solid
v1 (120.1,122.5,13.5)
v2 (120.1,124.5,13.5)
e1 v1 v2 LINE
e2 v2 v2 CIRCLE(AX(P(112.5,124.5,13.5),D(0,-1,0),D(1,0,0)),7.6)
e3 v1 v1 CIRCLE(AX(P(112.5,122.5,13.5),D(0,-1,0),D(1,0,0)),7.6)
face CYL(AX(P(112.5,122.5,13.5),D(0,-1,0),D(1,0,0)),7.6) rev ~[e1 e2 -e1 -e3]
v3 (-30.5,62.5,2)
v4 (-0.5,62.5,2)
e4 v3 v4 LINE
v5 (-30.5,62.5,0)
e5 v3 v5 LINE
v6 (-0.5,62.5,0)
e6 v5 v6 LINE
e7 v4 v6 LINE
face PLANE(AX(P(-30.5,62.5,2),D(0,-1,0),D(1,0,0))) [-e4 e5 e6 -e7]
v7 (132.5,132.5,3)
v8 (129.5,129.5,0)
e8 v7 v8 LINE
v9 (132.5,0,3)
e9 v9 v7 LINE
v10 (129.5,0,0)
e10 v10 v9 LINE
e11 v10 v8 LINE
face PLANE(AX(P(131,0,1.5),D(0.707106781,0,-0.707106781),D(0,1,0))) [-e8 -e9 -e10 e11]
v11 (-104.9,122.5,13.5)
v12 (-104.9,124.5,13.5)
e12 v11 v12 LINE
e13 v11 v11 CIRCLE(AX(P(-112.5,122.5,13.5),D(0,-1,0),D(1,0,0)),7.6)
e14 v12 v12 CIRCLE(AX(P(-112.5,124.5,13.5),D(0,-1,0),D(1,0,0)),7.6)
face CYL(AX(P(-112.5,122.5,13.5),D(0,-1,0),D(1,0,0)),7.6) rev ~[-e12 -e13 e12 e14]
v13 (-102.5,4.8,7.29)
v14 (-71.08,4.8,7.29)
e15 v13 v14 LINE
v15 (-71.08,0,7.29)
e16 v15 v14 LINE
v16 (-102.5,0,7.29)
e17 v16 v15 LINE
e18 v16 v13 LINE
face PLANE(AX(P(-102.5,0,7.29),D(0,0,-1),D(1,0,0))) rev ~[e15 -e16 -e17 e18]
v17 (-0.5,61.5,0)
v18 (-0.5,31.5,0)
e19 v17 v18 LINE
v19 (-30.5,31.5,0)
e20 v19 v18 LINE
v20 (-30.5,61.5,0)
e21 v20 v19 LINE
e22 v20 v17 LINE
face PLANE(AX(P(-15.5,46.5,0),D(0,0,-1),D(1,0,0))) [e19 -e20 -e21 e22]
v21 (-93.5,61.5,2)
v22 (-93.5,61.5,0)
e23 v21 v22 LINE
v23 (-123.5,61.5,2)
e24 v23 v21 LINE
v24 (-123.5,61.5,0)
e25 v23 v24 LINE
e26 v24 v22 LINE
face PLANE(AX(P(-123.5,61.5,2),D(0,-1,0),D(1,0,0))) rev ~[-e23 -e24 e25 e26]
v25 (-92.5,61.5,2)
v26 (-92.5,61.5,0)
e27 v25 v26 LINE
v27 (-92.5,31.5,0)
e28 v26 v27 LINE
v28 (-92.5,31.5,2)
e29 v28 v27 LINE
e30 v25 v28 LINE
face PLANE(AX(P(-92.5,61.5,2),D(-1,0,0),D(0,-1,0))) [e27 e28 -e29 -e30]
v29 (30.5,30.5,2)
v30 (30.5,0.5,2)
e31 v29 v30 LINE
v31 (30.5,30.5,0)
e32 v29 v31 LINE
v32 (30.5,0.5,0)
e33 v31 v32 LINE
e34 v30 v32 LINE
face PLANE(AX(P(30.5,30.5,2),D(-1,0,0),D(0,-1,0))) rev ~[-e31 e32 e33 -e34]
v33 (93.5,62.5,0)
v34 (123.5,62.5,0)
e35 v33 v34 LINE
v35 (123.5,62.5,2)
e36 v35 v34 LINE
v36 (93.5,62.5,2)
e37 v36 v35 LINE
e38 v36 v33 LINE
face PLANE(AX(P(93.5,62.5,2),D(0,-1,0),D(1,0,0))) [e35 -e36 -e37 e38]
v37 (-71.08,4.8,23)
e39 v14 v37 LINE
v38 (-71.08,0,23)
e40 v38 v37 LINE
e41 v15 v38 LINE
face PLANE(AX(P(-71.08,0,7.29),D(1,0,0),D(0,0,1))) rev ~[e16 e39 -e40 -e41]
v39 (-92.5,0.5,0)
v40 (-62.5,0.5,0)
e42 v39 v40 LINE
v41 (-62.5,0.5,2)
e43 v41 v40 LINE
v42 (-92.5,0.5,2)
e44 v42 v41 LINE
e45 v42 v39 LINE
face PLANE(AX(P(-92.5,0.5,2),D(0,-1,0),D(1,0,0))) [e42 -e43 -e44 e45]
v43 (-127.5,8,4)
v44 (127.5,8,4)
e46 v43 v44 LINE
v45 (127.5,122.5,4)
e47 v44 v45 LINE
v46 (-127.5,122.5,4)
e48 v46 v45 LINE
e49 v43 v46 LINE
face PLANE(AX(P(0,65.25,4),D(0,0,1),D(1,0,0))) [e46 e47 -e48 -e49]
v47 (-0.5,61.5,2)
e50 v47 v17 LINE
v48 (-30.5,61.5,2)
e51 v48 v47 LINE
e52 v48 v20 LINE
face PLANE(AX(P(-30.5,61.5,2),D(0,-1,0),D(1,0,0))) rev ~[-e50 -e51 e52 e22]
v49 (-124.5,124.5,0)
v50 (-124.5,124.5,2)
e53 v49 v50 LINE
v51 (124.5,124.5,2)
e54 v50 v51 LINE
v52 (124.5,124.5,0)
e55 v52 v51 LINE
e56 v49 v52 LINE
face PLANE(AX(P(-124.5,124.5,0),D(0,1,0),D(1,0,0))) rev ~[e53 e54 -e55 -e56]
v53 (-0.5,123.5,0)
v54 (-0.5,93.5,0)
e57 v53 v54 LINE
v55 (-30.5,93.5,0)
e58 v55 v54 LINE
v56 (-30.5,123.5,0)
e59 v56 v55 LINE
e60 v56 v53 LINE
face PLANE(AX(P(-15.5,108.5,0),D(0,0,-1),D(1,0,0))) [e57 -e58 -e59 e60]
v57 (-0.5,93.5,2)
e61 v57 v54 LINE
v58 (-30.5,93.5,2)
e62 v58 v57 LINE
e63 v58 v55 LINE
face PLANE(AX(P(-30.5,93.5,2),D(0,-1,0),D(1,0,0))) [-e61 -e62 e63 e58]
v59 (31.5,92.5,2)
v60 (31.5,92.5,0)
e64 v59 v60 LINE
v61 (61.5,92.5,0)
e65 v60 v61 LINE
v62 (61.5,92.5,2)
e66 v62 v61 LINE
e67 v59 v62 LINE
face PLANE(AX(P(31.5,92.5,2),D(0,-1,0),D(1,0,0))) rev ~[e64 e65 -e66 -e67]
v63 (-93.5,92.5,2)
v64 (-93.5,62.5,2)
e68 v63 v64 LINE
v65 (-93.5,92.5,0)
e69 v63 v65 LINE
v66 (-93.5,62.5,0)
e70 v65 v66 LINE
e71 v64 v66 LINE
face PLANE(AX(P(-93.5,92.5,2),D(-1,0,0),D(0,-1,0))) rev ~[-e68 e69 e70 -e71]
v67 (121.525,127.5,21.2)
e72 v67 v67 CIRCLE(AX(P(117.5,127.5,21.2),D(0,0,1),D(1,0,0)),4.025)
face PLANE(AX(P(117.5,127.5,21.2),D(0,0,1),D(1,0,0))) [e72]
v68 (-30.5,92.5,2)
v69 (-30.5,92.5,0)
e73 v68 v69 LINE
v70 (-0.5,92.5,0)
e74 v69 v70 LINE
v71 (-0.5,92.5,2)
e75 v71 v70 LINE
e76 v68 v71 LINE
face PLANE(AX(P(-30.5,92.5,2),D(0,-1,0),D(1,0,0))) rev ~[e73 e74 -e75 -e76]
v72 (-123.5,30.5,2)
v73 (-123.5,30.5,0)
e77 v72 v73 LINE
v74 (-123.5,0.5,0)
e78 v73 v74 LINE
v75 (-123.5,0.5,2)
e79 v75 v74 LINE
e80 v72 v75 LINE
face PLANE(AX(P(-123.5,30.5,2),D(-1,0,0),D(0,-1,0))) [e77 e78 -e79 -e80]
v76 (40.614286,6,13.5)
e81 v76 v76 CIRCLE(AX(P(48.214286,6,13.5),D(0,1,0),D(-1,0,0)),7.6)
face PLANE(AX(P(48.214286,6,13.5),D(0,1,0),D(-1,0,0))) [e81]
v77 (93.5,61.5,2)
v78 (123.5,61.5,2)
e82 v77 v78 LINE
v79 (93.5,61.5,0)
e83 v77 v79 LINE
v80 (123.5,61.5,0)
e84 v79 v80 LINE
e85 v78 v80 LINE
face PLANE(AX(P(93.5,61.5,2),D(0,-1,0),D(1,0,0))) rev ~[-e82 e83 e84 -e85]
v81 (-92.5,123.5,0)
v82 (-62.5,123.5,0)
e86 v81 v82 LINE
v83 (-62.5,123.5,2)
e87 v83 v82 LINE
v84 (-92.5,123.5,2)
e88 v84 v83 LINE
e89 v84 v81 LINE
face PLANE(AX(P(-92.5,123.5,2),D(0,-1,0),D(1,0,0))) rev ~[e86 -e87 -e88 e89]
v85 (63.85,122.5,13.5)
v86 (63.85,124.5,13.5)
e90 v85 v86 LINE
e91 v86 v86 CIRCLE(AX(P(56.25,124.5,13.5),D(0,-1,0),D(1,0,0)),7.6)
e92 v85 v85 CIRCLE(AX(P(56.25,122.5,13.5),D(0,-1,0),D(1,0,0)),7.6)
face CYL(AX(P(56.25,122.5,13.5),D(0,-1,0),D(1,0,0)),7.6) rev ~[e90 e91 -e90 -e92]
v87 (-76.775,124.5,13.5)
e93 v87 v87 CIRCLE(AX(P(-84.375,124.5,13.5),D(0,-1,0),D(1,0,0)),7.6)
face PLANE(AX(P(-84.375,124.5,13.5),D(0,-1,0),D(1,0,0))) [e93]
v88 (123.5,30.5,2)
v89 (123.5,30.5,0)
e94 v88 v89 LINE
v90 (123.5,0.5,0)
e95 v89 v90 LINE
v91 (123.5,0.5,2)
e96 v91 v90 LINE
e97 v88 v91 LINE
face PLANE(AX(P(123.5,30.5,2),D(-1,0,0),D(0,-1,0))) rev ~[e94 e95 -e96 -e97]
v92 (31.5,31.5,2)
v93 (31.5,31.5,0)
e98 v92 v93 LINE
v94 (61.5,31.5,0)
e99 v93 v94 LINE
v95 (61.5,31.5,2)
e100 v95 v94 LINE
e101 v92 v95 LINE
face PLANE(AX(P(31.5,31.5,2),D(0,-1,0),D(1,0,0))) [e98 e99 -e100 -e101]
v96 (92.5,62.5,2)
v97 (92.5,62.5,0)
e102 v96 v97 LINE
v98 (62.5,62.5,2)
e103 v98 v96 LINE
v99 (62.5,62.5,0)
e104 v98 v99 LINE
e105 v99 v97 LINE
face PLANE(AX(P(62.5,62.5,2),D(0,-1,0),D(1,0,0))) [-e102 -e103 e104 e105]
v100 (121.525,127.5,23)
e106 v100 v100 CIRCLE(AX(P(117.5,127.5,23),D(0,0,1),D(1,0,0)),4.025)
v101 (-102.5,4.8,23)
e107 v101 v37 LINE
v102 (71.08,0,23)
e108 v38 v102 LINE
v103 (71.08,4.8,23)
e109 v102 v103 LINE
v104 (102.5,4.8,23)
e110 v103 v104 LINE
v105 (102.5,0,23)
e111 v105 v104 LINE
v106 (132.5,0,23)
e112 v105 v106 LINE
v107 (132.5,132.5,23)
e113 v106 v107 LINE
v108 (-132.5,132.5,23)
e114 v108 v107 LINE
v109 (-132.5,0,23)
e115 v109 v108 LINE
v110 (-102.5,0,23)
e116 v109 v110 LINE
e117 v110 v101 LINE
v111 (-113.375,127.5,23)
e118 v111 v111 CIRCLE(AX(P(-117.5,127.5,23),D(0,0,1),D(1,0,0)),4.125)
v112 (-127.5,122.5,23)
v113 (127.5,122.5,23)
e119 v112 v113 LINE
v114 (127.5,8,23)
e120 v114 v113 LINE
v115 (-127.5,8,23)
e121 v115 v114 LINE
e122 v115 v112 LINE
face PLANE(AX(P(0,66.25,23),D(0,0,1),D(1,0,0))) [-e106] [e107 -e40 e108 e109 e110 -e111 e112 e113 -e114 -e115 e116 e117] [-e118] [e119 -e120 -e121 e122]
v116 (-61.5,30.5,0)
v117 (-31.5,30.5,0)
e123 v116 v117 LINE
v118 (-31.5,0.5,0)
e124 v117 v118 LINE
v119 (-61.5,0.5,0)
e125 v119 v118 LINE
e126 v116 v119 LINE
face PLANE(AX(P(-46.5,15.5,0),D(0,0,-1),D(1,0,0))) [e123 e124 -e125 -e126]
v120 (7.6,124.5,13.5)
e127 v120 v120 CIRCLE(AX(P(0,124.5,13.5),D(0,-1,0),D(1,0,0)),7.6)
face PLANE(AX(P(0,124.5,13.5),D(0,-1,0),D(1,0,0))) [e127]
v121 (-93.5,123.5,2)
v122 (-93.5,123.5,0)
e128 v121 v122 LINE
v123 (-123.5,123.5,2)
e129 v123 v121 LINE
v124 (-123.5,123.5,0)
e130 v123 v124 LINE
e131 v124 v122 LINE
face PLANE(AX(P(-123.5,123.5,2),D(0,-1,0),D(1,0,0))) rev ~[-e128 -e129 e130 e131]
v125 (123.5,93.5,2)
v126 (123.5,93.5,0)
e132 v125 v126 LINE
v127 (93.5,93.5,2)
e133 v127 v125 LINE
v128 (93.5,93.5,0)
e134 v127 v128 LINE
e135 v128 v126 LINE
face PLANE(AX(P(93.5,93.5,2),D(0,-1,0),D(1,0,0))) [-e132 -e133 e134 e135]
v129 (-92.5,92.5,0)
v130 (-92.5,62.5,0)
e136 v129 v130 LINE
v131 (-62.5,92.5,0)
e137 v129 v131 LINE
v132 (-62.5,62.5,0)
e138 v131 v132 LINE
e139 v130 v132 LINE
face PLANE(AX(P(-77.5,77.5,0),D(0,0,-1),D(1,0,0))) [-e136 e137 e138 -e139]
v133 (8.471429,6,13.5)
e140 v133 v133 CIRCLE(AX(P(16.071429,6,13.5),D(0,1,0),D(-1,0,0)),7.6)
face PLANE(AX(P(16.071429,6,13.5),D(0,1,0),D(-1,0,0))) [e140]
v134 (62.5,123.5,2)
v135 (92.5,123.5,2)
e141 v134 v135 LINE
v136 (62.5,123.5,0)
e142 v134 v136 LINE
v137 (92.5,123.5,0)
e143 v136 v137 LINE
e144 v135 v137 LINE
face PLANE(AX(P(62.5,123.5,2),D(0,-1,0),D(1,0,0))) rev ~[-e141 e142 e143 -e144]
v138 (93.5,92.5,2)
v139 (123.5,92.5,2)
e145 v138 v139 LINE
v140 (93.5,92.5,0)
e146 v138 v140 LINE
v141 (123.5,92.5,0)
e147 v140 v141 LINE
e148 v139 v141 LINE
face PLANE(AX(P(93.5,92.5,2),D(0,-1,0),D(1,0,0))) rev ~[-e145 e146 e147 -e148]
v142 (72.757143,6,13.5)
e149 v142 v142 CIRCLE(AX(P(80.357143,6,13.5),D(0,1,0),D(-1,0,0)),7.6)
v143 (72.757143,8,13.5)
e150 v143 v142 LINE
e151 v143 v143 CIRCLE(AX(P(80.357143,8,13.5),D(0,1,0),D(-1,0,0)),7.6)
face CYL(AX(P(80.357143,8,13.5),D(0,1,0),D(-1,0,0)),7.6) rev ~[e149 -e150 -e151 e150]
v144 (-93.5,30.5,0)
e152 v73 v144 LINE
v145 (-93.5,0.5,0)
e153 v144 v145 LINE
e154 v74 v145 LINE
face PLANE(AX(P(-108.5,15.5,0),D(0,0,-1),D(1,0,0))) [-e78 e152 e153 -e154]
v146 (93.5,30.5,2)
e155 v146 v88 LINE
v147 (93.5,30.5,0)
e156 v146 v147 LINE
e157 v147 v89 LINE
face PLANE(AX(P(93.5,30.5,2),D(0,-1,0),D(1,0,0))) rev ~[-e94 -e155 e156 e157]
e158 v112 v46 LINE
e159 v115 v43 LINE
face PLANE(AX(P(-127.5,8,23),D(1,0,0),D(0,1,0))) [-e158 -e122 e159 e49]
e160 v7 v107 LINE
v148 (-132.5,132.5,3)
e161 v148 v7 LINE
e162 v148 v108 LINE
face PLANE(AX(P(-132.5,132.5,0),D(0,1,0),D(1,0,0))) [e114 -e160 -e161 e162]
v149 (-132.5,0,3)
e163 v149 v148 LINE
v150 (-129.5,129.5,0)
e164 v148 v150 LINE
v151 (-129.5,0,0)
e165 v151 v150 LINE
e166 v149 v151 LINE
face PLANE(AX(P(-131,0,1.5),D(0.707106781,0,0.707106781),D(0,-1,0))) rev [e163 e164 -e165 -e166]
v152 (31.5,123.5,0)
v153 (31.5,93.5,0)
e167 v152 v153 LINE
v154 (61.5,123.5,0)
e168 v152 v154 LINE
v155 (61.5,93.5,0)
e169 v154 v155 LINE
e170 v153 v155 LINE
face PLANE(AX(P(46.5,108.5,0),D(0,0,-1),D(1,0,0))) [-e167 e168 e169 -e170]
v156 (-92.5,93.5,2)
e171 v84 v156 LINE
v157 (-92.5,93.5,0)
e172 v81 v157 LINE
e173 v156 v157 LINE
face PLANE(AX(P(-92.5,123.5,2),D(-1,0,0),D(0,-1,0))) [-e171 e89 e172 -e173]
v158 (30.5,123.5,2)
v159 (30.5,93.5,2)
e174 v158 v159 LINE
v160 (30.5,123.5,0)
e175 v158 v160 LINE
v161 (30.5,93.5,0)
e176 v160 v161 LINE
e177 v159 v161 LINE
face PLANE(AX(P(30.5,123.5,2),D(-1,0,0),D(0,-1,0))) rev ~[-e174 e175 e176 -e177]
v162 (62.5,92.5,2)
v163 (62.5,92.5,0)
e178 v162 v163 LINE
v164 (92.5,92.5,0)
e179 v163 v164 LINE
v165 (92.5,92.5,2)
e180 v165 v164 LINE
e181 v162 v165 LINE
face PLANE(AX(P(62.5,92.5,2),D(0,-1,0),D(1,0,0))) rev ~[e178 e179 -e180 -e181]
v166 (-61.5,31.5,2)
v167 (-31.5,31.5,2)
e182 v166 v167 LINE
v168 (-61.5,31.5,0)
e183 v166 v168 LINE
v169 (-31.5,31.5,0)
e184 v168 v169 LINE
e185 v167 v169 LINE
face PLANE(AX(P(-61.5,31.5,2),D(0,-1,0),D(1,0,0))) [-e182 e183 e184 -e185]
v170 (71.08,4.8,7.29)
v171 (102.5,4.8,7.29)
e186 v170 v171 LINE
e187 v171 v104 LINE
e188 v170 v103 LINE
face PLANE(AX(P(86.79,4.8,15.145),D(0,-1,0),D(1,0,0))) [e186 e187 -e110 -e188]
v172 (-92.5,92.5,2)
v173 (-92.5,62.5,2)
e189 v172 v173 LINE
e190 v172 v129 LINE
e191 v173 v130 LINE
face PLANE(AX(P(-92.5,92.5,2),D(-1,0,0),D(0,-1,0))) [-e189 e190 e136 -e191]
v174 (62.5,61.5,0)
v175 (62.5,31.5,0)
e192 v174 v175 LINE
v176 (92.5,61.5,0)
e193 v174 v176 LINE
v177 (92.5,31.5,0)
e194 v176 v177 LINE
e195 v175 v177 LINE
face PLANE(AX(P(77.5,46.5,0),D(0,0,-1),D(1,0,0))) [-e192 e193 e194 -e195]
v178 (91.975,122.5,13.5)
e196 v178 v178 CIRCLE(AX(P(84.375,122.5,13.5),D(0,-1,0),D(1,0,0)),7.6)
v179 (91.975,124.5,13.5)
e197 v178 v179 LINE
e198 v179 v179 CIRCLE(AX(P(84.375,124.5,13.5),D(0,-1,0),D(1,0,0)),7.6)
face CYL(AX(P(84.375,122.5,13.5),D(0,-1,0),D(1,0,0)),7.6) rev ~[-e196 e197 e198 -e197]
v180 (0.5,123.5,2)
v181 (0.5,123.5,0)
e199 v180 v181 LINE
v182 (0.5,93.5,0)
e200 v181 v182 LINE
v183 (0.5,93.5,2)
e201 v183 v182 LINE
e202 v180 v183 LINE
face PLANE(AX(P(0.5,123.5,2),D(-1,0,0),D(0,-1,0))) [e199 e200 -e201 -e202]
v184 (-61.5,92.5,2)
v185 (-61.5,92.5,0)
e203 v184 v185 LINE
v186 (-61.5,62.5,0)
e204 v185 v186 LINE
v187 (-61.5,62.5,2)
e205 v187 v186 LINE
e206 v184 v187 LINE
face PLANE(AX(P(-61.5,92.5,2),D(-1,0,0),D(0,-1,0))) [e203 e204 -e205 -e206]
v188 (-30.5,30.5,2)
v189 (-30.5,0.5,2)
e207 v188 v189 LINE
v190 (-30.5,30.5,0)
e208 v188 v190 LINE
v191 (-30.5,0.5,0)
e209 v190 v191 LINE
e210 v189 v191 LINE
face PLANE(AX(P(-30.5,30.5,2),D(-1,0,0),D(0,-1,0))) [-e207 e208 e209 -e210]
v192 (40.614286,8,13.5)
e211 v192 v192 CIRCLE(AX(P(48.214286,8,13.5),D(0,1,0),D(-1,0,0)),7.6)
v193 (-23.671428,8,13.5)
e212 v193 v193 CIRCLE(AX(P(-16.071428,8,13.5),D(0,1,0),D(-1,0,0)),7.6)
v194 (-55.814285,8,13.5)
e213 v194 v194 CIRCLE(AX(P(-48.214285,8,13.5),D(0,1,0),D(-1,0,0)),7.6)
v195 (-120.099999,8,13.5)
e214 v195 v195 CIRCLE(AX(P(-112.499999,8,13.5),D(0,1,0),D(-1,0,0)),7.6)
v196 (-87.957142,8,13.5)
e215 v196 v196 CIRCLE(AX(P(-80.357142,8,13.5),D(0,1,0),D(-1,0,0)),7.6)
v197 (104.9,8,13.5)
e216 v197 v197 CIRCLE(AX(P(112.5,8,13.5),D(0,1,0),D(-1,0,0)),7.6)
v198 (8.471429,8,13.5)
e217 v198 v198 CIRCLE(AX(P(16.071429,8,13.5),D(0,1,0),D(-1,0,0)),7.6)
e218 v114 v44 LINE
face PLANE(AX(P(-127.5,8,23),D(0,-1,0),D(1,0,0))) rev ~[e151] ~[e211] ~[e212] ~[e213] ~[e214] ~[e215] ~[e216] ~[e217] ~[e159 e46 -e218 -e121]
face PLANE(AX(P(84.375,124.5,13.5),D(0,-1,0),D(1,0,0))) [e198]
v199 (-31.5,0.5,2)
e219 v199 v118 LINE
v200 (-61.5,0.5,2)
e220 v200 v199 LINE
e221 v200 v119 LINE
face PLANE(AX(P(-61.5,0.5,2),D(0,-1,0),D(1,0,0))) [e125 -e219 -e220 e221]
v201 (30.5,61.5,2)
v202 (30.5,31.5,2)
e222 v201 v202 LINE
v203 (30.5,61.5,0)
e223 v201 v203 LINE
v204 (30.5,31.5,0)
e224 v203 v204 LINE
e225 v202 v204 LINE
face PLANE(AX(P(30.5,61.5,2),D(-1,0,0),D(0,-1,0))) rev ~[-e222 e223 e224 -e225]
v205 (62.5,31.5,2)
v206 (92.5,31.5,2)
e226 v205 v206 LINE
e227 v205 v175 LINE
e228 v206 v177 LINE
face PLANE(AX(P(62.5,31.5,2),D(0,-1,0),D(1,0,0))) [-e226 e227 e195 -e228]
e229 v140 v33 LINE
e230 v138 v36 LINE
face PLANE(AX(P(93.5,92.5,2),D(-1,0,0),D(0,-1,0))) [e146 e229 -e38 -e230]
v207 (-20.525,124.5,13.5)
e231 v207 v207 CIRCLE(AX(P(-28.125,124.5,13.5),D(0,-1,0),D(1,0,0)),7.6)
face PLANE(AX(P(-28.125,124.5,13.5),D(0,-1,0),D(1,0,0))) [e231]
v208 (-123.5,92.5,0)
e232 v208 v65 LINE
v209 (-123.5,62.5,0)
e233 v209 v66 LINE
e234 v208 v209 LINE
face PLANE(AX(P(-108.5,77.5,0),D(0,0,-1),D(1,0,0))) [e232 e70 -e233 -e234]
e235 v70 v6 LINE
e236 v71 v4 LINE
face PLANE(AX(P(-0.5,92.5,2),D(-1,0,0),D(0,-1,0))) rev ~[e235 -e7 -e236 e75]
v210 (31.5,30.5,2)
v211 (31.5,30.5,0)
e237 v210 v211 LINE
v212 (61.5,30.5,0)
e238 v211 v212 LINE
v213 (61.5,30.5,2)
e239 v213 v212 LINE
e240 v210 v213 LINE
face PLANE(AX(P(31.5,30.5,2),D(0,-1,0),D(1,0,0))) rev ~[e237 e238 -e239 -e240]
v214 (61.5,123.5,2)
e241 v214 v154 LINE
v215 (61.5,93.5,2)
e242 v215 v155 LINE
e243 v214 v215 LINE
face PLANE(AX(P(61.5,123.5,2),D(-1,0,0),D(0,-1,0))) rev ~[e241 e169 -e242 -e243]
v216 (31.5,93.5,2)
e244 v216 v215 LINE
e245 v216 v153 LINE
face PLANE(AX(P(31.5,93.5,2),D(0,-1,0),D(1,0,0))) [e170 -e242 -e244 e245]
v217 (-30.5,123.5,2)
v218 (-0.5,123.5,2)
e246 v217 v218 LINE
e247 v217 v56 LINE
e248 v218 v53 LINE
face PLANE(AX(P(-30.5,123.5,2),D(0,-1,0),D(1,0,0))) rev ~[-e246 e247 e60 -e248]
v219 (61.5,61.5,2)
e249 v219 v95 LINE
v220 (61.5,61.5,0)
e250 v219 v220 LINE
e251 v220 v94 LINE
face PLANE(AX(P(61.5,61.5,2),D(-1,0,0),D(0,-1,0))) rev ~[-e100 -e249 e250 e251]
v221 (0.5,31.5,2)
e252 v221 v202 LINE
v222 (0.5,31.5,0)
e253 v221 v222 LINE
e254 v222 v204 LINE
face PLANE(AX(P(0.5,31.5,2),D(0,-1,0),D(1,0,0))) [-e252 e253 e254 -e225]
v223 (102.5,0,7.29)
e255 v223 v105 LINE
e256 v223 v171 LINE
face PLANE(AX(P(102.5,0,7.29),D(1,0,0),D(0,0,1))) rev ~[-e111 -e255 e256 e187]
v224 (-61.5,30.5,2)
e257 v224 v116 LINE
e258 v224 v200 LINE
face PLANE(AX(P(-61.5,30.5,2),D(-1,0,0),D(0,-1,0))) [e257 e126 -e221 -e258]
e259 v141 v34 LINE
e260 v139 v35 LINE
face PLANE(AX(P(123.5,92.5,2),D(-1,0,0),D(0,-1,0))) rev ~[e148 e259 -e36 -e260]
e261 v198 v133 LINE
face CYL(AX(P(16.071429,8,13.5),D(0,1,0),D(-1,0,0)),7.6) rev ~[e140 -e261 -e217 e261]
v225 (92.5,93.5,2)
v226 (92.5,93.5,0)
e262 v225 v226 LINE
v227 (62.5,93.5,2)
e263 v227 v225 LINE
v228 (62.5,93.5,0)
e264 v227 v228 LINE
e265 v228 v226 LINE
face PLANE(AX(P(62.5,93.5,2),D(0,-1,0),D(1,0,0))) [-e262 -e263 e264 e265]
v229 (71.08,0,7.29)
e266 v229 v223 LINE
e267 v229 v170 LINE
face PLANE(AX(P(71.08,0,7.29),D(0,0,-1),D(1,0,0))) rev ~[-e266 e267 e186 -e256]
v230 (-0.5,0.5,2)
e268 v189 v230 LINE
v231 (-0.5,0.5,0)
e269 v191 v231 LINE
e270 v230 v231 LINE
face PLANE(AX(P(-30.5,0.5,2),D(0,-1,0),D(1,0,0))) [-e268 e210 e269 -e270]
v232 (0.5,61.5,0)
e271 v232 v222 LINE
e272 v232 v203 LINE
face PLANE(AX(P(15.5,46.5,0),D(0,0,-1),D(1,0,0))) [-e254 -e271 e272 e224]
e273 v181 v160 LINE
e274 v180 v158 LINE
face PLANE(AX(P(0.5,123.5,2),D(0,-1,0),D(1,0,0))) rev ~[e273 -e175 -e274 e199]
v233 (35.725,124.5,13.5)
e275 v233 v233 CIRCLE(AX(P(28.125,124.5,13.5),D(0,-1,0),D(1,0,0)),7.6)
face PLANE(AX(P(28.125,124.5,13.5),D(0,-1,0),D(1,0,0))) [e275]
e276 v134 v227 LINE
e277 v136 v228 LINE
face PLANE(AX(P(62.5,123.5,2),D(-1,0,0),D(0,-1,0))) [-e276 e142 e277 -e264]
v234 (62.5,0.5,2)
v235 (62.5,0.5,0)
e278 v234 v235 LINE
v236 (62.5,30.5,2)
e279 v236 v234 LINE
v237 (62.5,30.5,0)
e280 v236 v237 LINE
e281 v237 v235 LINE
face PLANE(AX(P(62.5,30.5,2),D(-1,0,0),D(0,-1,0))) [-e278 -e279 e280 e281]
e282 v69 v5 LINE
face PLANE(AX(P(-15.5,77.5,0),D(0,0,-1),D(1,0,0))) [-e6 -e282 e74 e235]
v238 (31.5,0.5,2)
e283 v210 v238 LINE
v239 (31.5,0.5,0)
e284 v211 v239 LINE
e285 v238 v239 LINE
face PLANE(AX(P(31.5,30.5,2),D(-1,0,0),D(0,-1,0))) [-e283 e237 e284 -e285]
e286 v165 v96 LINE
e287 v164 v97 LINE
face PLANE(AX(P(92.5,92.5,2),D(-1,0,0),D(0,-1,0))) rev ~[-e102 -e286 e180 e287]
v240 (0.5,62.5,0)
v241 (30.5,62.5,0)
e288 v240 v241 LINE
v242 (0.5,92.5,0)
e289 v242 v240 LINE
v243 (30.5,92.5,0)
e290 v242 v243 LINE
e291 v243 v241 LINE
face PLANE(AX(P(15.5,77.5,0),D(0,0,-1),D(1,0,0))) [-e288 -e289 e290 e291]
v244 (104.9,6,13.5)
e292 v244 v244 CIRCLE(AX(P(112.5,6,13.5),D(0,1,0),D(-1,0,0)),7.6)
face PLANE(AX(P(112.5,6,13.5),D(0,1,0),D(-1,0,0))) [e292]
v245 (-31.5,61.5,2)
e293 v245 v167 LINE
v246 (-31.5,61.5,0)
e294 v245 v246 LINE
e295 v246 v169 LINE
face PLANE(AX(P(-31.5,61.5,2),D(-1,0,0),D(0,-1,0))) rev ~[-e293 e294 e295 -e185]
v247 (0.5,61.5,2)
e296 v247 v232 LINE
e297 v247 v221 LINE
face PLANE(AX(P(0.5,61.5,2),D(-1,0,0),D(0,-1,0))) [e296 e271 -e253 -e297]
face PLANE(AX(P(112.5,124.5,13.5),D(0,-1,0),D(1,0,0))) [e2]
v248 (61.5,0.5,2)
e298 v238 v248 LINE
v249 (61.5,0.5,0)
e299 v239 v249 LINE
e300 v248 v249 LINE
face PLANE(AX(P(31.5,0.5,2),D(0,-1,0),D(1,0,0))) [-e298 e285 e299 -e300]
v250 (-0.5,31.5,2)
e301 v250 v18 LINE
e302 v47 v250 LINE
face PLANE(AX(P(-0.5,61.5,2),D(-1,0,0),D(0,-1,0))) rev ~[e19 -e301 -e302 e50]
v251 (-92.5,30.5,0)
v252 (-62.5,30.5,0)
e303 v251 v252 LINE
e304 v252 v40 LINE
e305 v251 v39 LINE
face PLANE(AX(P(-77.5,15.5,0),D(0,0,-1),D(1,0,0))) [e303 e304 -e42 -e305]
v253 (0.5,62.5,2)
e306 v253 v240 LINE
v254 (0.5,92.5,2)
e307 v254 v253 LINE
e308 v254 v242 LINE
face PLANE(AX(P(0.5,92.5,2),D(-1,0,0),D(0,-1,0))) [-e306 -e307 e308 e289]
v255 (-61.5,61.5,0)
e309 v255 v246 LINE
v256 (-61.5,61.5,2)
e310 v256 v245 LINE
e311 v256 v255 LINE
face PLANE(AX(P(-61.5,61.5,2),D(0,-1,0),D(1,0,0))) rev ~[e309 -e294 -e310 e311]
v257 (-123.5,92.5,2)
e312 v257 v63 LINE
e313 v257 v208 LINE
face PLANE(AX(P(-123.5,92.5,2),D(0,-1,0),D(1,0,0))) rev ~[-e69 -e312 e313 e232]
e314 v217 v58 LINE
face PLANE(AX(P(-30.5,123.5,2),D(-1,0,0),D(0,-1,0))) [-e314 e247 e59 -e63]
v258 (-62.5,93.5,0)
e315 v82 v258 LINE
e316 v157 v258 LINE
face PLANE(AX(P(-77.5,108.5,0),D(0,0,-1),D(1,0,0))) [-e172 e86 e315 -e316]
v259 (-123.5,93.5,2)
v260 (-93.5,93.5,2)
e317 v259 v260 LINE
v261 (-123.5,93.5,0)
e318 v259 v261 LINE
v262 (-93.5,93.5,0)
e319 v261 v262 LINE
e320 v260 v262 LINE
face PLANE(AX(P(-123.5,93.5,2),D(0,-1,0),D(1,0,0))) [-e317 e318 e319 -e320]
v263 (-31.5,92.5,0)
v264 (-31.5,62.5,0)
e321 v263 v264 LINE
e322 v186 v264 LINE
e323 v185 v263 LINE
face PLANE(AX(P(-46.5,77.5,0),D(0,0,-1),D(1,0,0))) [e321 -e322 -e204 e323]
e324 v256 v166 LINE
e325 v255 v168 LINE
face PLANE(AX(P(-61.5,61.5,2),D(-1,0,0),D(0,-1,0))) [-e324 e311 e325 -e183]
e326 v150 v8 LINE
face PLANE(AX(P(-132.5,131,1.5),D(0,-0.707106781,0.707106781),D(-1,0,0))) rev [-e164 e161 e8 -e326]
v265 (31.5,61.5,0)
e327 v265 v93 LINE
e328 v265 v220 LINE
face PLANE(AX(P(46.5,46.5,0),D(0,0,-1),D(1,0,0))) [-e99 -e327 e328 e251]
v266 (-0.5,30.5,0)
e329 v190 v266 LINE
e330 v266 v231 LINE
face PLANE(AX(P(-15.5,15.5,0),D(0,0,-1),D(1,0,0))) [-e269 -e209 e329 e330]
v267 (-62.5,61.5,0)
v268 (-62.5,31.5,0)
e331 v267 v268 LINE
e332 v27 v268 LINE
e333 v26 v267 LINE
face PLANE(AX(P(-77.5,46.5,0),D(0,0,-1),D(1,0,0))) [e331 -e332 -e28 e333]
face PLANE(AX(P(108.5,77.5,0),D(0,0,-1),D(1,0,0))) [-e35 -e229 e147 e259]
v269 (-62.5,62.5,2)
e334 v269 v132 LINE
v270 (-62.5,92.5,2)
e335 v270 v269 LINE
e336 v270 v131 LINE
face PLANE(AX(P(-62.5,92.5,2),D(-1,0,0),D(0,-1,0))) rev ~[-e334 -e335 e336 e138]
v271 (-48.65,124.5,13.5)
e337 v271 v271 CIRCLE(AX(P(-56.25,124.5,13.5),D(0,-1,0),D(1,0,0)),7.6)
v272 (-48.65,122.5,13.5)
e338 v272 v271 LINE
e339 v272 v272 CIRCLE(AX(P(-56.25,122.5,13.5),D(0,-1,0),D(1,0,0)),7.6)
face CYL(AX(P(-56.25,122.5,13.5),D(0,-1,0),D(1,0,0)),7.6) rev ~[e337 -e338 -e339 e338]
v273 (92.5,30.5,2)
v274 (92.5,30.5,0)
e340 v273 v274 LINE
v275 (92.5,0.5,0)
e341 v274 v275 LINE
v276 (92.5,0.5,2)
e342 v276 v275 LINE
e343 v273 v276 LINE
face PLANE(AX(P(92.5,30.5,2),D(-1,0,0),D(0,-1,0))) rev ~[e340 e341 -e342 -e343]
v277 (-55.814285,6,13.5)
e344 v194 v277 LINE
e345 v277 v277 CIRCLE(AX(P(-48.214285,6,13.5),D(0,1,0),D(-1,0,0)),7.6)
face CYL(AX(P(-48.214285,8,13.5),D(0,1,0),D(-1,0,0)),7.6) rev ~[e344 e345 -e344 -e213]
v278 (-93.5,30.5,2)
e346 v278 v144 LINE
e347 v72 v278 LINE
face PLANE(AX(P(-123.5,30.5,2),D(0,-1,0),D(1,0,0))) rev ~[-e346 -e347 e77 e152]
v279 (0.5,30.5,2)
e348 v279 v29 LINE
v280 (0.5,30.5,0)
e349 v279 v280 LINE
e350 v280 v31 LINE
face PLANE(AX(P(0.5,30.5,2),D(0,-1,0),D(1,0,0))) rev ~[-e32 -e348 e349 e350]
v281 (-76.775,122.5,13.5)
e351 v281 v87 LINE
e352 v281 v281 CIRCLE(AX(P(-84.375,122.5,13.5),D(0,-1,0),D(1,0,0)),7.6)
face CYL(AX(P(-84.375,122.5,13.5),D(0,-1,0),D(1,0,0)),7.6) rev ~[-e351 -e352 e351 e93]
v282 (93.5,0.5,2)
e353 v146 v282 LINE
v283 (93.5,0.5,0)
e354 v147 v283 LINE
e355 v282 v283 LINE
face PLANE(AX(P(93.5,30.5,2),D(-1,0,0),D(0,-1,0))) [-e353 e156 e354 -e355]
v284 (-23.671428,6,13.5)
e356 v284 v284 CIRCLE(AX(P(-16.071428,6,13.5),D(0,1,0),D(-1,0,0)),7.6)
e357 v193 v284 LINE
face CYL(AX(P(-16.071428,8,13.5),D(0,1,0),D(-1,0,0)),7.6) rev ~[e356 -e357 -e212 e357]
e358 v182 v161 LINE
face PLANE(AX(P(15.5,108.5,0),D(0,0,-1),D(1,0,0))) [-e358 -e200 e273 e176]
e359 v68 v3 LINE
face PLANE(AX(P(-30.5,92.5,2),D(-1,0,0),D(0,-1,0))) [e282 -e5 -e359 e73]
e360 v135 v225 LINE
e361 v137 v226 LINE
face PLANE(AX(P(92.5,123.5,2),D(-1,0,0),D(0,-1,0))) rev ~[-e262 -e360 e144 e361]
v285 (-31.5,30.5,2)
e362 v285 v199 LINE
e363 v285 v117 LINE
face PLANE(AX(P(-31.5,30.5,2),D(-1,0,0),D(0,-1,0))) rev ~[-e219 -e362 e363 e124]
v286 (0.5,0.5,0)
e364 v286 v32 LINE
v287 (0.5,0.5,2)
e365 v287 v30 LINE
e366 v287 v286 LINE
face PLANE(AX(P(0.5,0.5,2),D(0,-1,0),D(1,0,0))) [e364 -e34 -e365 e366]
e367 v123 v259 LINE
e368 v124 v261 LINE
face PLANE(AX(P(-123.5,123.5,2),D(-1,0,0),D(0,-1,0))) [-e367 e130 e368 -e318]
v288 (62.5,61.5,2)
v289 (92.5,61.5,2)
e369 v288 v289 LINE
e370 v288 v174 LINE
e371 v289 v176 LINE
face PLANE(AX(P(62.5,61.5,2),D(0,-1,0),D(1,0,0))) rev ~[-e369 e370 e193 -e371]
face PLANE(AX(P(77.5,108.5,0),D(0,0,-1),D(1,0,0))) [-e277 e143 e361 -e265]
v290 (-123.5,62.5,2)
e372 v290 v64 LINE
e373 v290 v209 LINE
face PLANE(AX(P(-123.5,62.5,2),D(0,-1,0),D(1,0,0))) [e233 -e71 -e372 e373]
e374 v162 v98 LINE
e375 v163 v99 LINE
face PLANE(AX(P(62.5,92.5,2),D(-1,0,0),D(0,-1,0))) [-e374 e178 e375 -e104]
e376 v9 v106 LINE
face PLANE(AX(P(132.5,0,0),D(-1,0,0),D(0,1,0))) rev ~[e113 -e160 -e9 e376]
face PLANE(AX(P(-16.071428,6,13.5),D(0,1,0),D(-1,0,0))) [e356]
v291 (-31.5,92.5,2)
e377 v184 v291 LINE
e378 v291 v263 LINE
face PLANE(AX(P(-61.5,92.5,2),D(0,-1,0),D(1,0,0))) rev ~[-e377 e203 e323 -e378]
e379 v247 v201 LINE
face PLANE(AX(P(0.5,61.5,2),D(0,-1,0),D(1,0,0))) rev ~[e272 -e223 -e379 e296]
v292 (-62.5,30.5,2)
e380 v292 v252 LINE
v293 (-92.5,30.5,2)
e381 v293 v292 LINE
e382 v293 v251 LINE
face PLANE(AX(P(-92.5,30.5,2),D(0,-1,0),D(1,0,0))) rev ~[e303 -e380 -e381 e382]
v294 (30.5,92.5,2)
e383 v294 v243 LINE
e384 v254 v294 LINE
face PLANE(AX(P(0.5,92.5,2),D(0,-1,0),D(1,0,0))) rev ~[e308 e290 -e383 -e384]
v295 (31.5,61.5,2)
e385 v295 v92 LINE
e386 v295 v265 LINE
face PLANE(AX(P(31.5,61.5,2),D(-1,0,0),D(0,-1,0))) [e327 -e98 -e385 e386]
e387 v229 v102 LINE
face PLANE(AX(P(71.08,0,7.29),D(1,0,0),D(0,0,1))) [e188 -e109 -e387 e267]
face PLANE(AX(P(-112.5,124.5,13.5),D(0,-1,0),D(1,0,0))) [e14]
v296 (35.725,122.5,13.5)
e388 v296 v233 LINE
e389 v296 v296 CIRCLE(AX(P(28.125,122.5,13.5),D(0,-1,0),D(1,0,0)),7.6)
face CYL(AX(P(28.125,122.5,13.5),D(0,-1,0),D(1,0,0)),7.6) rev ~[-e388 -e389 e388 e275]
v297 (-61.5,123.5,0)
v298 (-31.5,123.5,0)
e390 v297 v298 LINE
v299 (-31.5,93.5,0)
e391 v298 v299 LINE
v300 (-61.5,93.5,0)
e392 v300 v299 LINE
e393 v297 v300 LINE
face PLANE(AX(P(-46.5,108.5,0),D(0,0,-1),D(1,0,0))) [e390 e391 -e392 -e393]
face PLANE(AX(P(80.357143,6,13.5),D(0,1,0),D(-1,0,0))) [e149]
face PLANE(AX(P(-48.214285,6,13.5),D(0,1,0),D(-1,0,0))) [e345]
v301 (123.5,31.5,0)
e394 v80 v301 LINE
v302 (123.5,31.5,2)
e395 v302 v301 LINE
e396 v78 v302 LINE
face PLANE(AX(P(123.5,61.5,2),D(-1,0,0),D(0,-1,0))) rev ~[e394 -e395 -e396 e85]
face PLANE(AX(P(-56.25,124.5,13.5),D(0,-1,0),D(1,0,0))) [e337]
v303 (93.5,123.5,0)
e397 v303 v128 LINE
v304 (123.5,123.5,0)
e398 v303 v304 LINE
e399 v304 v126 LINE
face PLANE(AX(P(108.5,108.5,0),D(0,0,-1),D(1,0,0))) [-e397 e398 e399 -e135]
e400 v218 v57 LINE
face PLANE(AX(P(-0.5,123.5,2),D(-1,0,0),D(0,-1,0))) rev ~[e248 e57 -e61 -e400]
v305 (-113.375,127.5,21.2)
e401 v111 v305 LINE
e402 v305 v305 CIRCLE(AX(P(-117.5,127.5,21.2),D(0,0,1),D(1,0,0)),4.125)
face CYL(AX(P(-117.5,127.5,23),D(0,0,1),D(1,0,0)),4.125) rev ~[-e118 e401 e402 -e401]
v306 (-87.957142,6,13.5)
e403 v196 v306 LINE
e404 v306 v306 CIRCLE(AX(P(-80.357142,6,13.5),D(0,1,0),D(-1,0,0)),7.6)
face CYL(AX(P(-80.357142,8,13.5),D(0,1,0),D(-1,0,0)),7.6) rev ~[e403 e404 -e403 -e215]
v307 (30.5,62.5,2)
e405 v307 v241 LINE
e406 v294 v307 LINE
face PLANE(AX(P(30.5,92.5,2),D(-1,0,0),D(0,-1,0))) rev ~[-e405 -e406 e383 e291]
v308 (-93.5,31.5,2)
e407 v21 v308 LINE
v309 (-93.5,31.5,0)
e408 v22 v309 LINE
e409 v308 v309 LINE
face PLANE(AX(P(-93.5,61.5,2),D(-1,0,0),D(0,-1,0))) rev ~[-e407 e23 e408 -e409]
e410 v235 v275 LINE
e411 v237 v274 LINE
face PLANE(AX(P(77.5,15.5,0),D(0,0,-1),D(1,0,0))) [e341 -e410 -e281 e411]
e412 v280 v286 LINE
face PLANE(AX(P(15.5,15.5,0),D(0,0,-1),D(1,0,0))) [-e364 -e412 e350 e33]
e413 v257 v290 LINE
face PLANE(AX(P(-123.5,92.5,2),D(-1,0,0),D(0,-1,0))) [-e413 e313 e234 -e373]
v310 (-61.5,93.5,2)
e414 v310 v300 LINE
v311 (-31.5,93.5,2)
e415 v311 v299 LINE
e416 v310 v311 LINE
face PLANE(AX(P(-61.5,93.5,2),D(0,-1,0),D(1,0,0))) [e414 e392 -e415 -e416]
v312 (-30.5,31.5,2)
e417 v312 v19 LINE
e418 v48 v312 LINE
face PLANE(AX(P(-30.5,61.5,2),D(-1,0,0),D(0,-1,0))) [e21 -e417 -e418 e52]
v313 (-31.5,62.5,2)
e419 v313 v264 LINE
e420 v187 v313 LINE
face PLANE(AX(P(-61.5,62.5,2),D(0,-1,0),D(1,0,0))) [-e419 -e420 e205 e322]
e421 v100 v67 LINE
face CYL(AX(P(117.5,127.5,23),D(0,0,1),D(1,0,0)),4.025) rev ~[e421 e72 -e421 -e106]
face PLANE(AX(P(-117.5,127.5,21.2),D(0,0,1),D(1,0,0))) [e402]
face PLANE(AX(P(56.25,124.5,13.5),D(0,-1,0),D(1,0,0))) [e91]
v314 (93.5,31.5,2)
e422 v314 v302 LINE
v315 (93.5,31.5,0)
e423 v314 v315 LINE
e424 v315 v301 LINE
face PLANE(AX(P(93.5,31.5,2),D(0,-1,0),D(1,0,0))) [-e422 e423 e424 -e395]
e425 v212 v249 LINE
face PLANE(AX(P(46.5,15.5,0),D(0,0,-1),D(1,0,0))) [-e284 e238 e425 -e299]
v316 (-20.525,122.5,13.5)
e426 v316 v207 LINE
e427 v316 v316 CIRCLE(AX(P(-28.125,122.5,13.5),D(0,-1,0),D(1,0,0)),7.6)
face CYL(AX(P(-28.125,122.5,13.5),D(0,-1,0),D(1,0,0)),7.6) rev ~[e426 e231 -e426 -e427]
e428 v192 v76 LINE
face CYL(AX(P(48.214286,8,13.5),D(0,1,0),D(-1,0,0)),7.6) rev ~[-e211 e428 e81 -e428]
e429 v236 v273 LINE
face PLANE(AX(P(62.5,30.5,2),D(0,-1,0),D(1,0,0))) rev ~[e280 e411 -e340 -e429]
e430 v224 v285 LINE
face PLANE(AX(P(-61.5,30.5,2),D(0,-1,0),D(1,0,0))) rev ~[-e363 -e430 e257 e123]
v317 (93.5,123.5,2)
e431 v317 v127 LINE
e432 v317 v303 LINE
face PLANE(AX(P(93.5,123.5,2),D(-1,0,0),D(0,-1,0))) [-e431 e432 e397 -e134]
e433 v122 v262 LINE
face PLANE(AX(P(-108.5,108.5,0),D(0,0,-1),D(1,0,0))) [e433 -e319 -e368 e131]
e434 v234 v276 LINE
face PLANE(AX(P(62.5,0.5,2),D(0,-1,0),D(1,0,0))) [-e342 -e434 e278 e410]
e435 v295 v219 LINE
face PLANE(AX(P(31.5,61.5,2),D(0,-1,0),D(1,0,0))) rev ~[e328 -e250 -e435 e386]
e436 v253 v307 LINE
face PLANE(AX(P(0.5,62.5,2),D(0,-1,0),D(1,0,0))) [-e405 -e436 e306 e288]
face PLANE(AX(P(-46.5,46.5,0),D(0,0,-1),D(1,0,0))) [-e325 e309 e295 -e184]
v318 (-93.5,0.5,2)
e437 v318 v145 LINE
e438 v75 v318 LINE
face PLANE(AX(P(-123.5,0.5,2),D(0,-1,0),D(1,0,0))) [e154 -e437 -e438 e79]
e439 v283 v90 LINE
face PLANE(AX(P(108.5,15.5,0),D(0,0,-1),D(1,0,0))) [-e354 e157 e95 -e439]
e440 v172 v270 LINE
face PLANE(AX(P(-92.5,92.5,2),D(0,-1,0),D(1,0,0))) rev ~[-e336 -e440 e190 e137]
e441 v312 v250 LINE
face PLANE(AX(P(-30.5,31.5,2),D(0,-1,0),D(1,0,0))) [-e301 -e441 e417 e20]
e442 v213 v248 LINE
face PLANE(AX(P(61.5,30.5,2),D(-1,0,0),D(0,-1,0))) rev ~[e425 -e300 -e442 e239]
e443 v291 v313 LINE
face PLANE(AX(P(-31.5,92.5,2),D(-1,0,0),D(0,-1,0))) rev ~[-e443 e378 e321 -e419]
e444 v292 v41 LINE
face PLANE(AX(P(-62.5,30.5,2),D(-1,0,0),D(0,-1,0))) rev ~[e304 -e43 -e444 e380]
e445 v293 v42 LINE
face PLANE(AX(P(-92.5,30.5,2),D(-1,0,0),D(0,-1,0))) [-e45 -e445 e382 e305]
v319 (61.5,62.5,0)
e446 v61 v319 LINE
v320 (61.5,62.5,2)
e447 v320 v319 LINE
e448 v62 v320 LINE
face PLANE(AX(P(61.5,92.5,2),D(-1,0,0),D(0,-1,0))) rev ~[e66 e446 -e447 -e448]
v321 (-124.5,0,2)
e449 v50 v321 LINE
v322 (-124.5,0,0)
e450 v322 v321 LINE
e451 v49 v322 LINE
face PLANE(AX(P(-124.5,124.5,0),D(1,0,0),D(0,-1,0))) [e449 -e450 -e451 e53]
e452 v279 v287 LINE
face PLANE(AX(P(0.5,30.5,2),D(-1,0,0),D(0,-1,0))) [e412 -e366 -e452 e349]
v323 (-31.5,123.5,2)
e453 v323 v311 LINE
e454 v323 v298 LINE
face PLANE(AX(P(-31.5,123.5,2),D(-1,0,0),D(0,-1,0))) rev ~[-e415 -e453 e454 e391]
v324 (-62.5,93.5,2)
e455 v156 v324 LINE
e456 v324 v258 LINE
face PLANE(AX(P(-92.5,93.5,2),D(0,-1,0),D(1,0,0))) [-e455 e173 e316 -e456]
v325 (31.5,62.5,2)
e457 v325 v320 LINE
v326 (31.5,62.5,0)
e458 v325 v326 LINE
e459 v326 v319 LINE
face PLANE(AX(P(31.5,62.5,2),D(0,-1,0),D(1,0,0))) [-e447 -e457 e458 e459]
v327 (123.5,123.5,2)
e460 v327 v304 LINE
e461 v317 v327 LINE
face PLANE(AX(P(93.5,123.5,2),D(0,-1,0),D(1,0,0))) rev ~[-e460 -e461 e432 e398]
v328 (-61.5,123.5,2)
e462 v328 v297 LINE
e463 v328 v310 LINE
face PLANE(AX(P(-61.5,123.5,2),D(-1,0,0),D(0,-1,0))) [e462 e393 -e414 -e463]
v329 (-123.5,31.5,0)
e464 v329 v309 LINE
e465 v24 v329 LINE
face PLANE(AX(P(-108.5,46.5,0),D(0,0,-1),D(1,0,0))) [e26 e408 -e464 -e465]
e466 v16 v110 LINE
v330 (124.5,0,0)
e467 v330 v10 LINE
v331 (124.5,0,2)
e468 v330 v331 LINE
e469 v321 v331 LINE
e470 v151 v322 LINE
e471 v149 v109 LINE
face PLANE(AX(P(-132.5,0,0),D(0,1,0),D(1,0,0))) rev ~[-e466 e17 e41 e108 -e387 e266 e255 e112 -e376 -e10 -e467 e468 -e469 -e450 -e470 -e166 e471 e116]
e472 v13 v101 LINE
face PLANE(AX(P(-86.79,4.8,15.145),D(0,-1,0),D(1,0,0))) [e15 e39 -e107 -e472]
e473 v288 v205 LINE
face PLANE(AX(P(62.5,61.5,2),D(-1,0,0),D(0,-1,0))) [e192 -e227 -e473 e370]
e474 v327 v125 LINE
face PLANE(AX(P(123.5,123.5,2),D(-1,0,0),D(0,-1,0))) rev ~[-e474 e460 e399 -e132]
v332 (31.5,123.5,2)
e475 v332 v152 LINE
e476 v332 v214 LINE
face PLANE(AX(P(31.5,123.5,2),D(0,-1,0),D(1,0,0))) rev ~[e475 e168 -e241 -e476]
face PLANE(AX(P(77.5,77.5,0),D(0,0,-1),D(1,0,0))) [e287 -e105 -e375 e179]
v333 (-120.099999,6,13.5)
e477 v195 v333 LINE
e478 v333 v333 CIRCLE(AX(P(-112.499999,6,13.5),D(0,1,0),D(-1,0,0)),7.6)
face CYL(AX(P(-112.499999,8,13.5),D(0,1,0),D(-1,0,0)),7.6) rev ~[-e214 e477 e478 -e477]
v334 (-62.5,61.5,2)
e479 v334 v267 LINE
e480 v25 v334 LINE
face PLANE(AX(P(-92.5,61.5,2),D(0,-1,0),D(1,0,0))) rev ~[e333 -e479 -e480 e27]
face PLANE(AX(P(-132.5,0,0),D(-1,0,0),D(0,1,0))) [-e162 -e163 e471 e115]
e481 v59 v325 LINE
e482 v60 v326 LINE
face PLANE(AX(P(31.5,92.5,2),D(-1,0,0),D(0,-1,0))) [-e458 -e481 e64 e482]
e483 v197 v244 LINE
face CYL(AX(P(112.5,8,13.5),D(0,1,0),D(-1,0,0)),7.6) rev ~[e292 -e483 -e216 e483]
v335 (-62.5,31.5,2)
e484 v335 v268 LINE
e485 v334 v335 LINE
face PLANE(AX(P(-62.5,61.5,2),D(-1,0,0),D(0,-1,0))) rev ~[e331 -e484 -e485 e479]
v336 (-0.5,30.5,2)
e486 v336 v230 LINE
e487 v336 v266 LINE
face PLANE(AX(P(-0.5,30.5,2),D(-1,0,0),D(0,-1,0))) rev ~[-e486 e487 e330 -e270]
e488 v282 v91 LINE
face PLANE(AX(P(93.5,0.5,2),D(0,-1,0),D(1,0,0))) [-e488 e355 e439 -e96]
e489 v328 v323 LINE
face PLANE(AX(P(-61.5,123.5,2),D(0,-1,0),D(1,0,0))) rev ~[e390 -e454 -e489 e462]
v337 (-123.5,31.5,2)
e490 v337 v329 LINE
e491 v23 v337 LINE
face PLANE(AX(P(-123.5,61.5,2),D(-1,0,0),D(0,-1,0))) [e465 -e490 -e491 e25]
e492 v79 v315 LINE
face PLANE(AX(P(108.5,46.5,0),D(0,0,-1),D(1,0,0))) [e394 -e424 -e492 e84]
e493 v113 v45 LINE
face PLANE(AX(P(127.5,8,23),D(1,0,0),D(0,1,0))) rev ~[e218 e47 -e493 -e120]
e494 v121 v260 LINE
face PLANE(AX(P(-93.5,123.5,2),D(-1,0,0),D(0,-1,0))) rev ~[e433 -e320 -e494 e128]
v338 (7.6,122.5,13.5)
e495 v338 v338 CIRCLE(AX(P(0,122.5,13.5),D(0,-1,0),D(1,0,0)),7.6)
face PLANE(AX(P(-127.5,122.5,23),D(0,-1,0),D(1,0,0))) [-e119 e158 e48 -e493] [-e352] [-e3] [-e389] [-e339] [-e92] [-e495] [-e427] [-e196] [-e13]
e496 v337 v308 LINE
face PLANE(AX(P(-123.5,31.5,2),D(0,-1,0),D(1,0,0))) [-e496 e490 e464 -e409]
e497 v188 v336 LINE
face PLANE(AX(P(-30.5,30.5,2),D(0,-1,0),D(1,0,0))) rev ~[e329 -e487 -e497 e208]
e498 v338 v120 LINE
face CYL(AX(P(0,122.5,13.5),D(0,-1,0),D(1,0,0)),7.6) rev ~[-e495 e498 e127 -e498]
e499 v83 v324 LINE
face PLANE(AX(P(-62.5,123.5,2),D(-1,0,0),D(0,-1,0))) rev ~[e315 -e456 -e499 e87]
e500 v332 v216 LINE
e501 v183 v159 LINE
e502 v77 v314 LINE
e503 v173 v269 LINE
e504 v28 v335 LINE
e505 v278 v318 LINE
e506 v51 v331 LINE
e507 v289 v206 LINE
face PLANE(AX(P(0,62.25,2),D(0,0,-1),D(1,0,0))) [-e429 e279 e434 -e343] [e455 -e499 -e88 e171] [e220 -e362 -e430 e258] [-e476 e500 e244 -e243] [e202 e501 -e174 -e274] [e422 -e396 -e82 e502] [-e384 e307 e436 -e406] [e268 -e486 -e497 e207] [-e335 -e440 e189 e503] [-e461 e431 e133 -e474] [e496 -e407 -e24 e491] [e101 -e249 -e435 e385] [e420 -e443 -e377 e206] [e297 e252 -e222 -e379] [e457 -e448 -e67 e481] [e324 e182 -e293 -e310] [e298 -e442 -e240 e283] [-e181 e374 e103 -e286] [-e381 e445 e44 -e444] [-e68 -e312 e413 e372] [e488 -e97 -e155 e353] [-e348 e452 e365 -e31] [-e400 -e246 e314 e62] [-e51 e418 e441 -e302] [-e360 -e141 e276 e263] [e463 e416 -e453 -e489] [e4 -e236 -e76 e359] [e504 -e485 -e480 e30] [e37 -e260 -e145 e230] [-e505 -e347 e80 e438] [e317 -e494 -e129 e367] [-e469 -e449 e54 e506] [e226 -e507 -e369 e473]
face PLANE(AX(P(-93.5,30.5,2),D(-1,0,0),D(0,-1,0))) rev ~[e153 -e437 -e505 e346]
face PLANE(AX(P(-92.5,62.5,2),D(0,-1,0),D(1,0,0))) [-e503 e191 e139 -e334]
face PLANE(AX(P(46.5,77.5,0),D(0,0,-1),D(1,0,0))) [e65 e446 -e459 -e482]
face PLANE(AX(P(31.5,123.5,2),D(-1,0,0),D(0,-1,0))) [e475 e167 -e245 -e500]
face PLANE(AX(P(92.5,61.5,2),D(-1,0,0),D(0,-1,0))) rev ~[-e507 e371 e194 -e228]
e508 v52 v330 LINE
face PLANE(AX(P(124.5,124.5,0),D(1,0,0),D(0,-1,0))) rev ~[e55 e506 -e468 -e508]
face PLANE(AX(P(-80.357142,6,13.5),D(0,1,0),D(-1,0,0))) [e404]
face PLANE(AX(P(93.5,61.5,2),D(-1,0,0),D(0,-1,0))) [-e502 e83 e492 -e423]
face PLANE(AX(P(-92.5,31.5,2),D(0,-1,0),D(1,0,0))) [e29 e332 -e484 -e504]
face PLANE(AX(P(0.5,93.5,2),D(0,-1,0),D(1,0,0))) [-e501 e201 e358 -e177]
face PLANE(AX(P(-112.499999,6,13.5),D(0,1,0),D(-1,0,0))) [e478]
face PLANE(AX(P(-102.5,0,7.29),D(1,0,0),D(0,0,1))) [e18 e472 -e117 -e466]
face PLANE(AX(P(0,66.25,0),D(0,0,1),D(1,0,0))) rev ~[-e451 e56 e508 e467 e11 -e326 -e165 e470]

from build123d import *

# Parameters (mm, degrees)
SKETCH_W               = 265
SKETCH_H               = 132.5
PAD_DEPTH              = 23
SKETCH001_W            = 249
SKETCH001_H            = 124.5
POCKET_DEPTH           = 2
SKETCH002_W            = 30
SKETCH002_H            = 30
PAD001_DEPTH           = 2
LINEARPATTERN_COUNT    = 8
LINEARPATTERN_PITCH    = 31
CHAMFER_SIZE           = 3
SKETCH003_W            = 31.42
SKETCH003_H            = 15.71
POCKET001_DEPTH        = 4.8
SKETCH004_W            = 255
SKETCH004_H            = 114.5
POCKET002_DEPTH        = 19
SKETCH005_R            = 7.6
POCKET003_DEPTH        = 2
LINEARPATTERN001_COUNT = 8
LINEARPATTERN001_PITCH = 32.142857
SKETCH006_R            = 7.6
POCKET004_DEPTH        = 2
LINEARPATTERN002_COUNT = 9
LINEARPATTERN002_PITCH = 28.125
SKETCH007_R            = 4.125
SKETCH007_R_2          = 4.025
POCKET005_DEPTH        = 1.8


with BuildPart() as part:
    # Sketch → Pad (new body)
    with BuildSketch(Plane.XY):
        with Locations((0, 66.25)):
            Rectangle(SKETCH_W, SKETCH_H)
    extrude(amount=PAD_DEPTH)

    # Sketch001 (on Face5 of Pad) → Pocket (cut)
    with BuildSketch(Plane(origin=(0, 0, 0), x_dir=(1, 0, 0), z_dir=(0, 0, -1))):
        with Locations((0, -62.25)):
            Rectangle(SKETCH001_W, SKETCH001_H)
    extrude(amount=-POCKET_DEPTH, mode=Mode.SUBTRACT)

    # Sketch002 (on Face10 of Pocket) → Pad001 (join)
    with BuildSketch(Plane(origin=(0, 0, 2), x_dir=(1, 0, 0), z_dir=(0, 0, -1))):
        with Locations((-108.5, -15.5)):
            Rectangle(SKETCH002_W, SKETCH002_H)
        with Locations((-108.5, -46.5)):
            Rectangle(SKETCH002_W, SKETCH002_H)
        with Locations((-108.5, -77.5)):
            Rectangle(SKETCH002_W, SKETCH002_H)
        with Locations((-108.5, -108.5)):
            Rectangle(SKETCH002_W, SKETCH002_H)
    pad001 = extrude(amount=PAD001_DEPTH)

    # LinearPattern: Pad001 ×8
    with Locations(*[(i * LINEARPATTERN_PITCH, 0, 0) for i in range(1, LINEARPATTERN_COUNT)]):
        add(pad001)

    # Chamfer
    chamfer_edges = [part.edges().sort_by_distance(p)[0] for p in [
        (-132.5, 66.25, 0),
        (0, 132.5, 0),
        (132.5, 66.25, 0),
    ]]
    chamfer(chamfer_edges, length=CHAMFER_SIZE)

    # Sketch003 (on Face6 of Chamfer) → Pocket001 (cut)
    with BuildSketch(Plane.XZ):
        with Locations((-86.79, 15.145)):
            Rectangle(SKETCH003_W, SKETCH003_H)
        with Locations((86.79, 15.145)):
            Rectangle(SKETCH003_W, SKETCH003_H)
    extrude(amount=-POCKET001_DEPTH, mode=Mode.SUBTRACT)

    # Sketch004 (on Face4 of Pocket001) → Pocket002 (cut)
    with BuildSketch(Plane.XY.offset(23)):
        with Locations((0, 65.25)):
            Rectangle(SKETCH004_W, SKETCH004_H)
    extrude(amount=-POCKET002_DEPTH, mode=Mode.SUBTRACT)

    # Sketch005 (on Face17 of Pocket002) → Pocket003 (cut)
    with BuildSketch(Plane(origin=(0, 8, 0), x_dir=(-1, 0, 0), z_dir=(0, 1, 0))):
        with Locations((-112.5, 13.5)):
            Circle(SKETCH005_R)
    pocket003 = extrude(amount=-POCKET003_DEPTH, mode=Mode.SUBTRACT)

    # LinearPattern001: Pocket003 ×8
    with Locations(*[(-i * LINEARPATTERN001_PITCH, 0, 0) for i in range(1, LINEARPATTERN001_COUNT)]):
        add(pocket003, mode=Mode.SUBTRACT)

    # Sketch006 (on Face19 of Pocket002) → Pocket004 (cut)
    with BuildSketch(Plane.XZ.offset(-122.5)):
        with Locations((-112.5, 13.5)):
            Circle(SKETCH006_R)
    pocket004 = extrude(amount=-POCKET004_DEPTH, mode=Mode.SUBTRACT)

    # LinearPattern002: Pocket004 ×9
    with Locations(*[(i * LINEARPATTERN002_PITCH, 0, 0) for i in range(1, LINEARPATTERN002_COUNT)]):
        add(pocket004, mode=Mode.SUBTRACT)

    # Sketch007 (on Face4 of LinearPattern002) → Pocket005 (cut)
    with BuildSketch(Plane.XY.offset(23)):
        with Locations((-117.5, 127.5)):
            Circle(SKETCH007_R)
        with Locations((117.5, 127.5)):
            Circle(SKETCH007_R_2)
    extrude(amount=-POCKET005_DEPTH, mode=Mode.SUBTRACT)


solid = part.part
